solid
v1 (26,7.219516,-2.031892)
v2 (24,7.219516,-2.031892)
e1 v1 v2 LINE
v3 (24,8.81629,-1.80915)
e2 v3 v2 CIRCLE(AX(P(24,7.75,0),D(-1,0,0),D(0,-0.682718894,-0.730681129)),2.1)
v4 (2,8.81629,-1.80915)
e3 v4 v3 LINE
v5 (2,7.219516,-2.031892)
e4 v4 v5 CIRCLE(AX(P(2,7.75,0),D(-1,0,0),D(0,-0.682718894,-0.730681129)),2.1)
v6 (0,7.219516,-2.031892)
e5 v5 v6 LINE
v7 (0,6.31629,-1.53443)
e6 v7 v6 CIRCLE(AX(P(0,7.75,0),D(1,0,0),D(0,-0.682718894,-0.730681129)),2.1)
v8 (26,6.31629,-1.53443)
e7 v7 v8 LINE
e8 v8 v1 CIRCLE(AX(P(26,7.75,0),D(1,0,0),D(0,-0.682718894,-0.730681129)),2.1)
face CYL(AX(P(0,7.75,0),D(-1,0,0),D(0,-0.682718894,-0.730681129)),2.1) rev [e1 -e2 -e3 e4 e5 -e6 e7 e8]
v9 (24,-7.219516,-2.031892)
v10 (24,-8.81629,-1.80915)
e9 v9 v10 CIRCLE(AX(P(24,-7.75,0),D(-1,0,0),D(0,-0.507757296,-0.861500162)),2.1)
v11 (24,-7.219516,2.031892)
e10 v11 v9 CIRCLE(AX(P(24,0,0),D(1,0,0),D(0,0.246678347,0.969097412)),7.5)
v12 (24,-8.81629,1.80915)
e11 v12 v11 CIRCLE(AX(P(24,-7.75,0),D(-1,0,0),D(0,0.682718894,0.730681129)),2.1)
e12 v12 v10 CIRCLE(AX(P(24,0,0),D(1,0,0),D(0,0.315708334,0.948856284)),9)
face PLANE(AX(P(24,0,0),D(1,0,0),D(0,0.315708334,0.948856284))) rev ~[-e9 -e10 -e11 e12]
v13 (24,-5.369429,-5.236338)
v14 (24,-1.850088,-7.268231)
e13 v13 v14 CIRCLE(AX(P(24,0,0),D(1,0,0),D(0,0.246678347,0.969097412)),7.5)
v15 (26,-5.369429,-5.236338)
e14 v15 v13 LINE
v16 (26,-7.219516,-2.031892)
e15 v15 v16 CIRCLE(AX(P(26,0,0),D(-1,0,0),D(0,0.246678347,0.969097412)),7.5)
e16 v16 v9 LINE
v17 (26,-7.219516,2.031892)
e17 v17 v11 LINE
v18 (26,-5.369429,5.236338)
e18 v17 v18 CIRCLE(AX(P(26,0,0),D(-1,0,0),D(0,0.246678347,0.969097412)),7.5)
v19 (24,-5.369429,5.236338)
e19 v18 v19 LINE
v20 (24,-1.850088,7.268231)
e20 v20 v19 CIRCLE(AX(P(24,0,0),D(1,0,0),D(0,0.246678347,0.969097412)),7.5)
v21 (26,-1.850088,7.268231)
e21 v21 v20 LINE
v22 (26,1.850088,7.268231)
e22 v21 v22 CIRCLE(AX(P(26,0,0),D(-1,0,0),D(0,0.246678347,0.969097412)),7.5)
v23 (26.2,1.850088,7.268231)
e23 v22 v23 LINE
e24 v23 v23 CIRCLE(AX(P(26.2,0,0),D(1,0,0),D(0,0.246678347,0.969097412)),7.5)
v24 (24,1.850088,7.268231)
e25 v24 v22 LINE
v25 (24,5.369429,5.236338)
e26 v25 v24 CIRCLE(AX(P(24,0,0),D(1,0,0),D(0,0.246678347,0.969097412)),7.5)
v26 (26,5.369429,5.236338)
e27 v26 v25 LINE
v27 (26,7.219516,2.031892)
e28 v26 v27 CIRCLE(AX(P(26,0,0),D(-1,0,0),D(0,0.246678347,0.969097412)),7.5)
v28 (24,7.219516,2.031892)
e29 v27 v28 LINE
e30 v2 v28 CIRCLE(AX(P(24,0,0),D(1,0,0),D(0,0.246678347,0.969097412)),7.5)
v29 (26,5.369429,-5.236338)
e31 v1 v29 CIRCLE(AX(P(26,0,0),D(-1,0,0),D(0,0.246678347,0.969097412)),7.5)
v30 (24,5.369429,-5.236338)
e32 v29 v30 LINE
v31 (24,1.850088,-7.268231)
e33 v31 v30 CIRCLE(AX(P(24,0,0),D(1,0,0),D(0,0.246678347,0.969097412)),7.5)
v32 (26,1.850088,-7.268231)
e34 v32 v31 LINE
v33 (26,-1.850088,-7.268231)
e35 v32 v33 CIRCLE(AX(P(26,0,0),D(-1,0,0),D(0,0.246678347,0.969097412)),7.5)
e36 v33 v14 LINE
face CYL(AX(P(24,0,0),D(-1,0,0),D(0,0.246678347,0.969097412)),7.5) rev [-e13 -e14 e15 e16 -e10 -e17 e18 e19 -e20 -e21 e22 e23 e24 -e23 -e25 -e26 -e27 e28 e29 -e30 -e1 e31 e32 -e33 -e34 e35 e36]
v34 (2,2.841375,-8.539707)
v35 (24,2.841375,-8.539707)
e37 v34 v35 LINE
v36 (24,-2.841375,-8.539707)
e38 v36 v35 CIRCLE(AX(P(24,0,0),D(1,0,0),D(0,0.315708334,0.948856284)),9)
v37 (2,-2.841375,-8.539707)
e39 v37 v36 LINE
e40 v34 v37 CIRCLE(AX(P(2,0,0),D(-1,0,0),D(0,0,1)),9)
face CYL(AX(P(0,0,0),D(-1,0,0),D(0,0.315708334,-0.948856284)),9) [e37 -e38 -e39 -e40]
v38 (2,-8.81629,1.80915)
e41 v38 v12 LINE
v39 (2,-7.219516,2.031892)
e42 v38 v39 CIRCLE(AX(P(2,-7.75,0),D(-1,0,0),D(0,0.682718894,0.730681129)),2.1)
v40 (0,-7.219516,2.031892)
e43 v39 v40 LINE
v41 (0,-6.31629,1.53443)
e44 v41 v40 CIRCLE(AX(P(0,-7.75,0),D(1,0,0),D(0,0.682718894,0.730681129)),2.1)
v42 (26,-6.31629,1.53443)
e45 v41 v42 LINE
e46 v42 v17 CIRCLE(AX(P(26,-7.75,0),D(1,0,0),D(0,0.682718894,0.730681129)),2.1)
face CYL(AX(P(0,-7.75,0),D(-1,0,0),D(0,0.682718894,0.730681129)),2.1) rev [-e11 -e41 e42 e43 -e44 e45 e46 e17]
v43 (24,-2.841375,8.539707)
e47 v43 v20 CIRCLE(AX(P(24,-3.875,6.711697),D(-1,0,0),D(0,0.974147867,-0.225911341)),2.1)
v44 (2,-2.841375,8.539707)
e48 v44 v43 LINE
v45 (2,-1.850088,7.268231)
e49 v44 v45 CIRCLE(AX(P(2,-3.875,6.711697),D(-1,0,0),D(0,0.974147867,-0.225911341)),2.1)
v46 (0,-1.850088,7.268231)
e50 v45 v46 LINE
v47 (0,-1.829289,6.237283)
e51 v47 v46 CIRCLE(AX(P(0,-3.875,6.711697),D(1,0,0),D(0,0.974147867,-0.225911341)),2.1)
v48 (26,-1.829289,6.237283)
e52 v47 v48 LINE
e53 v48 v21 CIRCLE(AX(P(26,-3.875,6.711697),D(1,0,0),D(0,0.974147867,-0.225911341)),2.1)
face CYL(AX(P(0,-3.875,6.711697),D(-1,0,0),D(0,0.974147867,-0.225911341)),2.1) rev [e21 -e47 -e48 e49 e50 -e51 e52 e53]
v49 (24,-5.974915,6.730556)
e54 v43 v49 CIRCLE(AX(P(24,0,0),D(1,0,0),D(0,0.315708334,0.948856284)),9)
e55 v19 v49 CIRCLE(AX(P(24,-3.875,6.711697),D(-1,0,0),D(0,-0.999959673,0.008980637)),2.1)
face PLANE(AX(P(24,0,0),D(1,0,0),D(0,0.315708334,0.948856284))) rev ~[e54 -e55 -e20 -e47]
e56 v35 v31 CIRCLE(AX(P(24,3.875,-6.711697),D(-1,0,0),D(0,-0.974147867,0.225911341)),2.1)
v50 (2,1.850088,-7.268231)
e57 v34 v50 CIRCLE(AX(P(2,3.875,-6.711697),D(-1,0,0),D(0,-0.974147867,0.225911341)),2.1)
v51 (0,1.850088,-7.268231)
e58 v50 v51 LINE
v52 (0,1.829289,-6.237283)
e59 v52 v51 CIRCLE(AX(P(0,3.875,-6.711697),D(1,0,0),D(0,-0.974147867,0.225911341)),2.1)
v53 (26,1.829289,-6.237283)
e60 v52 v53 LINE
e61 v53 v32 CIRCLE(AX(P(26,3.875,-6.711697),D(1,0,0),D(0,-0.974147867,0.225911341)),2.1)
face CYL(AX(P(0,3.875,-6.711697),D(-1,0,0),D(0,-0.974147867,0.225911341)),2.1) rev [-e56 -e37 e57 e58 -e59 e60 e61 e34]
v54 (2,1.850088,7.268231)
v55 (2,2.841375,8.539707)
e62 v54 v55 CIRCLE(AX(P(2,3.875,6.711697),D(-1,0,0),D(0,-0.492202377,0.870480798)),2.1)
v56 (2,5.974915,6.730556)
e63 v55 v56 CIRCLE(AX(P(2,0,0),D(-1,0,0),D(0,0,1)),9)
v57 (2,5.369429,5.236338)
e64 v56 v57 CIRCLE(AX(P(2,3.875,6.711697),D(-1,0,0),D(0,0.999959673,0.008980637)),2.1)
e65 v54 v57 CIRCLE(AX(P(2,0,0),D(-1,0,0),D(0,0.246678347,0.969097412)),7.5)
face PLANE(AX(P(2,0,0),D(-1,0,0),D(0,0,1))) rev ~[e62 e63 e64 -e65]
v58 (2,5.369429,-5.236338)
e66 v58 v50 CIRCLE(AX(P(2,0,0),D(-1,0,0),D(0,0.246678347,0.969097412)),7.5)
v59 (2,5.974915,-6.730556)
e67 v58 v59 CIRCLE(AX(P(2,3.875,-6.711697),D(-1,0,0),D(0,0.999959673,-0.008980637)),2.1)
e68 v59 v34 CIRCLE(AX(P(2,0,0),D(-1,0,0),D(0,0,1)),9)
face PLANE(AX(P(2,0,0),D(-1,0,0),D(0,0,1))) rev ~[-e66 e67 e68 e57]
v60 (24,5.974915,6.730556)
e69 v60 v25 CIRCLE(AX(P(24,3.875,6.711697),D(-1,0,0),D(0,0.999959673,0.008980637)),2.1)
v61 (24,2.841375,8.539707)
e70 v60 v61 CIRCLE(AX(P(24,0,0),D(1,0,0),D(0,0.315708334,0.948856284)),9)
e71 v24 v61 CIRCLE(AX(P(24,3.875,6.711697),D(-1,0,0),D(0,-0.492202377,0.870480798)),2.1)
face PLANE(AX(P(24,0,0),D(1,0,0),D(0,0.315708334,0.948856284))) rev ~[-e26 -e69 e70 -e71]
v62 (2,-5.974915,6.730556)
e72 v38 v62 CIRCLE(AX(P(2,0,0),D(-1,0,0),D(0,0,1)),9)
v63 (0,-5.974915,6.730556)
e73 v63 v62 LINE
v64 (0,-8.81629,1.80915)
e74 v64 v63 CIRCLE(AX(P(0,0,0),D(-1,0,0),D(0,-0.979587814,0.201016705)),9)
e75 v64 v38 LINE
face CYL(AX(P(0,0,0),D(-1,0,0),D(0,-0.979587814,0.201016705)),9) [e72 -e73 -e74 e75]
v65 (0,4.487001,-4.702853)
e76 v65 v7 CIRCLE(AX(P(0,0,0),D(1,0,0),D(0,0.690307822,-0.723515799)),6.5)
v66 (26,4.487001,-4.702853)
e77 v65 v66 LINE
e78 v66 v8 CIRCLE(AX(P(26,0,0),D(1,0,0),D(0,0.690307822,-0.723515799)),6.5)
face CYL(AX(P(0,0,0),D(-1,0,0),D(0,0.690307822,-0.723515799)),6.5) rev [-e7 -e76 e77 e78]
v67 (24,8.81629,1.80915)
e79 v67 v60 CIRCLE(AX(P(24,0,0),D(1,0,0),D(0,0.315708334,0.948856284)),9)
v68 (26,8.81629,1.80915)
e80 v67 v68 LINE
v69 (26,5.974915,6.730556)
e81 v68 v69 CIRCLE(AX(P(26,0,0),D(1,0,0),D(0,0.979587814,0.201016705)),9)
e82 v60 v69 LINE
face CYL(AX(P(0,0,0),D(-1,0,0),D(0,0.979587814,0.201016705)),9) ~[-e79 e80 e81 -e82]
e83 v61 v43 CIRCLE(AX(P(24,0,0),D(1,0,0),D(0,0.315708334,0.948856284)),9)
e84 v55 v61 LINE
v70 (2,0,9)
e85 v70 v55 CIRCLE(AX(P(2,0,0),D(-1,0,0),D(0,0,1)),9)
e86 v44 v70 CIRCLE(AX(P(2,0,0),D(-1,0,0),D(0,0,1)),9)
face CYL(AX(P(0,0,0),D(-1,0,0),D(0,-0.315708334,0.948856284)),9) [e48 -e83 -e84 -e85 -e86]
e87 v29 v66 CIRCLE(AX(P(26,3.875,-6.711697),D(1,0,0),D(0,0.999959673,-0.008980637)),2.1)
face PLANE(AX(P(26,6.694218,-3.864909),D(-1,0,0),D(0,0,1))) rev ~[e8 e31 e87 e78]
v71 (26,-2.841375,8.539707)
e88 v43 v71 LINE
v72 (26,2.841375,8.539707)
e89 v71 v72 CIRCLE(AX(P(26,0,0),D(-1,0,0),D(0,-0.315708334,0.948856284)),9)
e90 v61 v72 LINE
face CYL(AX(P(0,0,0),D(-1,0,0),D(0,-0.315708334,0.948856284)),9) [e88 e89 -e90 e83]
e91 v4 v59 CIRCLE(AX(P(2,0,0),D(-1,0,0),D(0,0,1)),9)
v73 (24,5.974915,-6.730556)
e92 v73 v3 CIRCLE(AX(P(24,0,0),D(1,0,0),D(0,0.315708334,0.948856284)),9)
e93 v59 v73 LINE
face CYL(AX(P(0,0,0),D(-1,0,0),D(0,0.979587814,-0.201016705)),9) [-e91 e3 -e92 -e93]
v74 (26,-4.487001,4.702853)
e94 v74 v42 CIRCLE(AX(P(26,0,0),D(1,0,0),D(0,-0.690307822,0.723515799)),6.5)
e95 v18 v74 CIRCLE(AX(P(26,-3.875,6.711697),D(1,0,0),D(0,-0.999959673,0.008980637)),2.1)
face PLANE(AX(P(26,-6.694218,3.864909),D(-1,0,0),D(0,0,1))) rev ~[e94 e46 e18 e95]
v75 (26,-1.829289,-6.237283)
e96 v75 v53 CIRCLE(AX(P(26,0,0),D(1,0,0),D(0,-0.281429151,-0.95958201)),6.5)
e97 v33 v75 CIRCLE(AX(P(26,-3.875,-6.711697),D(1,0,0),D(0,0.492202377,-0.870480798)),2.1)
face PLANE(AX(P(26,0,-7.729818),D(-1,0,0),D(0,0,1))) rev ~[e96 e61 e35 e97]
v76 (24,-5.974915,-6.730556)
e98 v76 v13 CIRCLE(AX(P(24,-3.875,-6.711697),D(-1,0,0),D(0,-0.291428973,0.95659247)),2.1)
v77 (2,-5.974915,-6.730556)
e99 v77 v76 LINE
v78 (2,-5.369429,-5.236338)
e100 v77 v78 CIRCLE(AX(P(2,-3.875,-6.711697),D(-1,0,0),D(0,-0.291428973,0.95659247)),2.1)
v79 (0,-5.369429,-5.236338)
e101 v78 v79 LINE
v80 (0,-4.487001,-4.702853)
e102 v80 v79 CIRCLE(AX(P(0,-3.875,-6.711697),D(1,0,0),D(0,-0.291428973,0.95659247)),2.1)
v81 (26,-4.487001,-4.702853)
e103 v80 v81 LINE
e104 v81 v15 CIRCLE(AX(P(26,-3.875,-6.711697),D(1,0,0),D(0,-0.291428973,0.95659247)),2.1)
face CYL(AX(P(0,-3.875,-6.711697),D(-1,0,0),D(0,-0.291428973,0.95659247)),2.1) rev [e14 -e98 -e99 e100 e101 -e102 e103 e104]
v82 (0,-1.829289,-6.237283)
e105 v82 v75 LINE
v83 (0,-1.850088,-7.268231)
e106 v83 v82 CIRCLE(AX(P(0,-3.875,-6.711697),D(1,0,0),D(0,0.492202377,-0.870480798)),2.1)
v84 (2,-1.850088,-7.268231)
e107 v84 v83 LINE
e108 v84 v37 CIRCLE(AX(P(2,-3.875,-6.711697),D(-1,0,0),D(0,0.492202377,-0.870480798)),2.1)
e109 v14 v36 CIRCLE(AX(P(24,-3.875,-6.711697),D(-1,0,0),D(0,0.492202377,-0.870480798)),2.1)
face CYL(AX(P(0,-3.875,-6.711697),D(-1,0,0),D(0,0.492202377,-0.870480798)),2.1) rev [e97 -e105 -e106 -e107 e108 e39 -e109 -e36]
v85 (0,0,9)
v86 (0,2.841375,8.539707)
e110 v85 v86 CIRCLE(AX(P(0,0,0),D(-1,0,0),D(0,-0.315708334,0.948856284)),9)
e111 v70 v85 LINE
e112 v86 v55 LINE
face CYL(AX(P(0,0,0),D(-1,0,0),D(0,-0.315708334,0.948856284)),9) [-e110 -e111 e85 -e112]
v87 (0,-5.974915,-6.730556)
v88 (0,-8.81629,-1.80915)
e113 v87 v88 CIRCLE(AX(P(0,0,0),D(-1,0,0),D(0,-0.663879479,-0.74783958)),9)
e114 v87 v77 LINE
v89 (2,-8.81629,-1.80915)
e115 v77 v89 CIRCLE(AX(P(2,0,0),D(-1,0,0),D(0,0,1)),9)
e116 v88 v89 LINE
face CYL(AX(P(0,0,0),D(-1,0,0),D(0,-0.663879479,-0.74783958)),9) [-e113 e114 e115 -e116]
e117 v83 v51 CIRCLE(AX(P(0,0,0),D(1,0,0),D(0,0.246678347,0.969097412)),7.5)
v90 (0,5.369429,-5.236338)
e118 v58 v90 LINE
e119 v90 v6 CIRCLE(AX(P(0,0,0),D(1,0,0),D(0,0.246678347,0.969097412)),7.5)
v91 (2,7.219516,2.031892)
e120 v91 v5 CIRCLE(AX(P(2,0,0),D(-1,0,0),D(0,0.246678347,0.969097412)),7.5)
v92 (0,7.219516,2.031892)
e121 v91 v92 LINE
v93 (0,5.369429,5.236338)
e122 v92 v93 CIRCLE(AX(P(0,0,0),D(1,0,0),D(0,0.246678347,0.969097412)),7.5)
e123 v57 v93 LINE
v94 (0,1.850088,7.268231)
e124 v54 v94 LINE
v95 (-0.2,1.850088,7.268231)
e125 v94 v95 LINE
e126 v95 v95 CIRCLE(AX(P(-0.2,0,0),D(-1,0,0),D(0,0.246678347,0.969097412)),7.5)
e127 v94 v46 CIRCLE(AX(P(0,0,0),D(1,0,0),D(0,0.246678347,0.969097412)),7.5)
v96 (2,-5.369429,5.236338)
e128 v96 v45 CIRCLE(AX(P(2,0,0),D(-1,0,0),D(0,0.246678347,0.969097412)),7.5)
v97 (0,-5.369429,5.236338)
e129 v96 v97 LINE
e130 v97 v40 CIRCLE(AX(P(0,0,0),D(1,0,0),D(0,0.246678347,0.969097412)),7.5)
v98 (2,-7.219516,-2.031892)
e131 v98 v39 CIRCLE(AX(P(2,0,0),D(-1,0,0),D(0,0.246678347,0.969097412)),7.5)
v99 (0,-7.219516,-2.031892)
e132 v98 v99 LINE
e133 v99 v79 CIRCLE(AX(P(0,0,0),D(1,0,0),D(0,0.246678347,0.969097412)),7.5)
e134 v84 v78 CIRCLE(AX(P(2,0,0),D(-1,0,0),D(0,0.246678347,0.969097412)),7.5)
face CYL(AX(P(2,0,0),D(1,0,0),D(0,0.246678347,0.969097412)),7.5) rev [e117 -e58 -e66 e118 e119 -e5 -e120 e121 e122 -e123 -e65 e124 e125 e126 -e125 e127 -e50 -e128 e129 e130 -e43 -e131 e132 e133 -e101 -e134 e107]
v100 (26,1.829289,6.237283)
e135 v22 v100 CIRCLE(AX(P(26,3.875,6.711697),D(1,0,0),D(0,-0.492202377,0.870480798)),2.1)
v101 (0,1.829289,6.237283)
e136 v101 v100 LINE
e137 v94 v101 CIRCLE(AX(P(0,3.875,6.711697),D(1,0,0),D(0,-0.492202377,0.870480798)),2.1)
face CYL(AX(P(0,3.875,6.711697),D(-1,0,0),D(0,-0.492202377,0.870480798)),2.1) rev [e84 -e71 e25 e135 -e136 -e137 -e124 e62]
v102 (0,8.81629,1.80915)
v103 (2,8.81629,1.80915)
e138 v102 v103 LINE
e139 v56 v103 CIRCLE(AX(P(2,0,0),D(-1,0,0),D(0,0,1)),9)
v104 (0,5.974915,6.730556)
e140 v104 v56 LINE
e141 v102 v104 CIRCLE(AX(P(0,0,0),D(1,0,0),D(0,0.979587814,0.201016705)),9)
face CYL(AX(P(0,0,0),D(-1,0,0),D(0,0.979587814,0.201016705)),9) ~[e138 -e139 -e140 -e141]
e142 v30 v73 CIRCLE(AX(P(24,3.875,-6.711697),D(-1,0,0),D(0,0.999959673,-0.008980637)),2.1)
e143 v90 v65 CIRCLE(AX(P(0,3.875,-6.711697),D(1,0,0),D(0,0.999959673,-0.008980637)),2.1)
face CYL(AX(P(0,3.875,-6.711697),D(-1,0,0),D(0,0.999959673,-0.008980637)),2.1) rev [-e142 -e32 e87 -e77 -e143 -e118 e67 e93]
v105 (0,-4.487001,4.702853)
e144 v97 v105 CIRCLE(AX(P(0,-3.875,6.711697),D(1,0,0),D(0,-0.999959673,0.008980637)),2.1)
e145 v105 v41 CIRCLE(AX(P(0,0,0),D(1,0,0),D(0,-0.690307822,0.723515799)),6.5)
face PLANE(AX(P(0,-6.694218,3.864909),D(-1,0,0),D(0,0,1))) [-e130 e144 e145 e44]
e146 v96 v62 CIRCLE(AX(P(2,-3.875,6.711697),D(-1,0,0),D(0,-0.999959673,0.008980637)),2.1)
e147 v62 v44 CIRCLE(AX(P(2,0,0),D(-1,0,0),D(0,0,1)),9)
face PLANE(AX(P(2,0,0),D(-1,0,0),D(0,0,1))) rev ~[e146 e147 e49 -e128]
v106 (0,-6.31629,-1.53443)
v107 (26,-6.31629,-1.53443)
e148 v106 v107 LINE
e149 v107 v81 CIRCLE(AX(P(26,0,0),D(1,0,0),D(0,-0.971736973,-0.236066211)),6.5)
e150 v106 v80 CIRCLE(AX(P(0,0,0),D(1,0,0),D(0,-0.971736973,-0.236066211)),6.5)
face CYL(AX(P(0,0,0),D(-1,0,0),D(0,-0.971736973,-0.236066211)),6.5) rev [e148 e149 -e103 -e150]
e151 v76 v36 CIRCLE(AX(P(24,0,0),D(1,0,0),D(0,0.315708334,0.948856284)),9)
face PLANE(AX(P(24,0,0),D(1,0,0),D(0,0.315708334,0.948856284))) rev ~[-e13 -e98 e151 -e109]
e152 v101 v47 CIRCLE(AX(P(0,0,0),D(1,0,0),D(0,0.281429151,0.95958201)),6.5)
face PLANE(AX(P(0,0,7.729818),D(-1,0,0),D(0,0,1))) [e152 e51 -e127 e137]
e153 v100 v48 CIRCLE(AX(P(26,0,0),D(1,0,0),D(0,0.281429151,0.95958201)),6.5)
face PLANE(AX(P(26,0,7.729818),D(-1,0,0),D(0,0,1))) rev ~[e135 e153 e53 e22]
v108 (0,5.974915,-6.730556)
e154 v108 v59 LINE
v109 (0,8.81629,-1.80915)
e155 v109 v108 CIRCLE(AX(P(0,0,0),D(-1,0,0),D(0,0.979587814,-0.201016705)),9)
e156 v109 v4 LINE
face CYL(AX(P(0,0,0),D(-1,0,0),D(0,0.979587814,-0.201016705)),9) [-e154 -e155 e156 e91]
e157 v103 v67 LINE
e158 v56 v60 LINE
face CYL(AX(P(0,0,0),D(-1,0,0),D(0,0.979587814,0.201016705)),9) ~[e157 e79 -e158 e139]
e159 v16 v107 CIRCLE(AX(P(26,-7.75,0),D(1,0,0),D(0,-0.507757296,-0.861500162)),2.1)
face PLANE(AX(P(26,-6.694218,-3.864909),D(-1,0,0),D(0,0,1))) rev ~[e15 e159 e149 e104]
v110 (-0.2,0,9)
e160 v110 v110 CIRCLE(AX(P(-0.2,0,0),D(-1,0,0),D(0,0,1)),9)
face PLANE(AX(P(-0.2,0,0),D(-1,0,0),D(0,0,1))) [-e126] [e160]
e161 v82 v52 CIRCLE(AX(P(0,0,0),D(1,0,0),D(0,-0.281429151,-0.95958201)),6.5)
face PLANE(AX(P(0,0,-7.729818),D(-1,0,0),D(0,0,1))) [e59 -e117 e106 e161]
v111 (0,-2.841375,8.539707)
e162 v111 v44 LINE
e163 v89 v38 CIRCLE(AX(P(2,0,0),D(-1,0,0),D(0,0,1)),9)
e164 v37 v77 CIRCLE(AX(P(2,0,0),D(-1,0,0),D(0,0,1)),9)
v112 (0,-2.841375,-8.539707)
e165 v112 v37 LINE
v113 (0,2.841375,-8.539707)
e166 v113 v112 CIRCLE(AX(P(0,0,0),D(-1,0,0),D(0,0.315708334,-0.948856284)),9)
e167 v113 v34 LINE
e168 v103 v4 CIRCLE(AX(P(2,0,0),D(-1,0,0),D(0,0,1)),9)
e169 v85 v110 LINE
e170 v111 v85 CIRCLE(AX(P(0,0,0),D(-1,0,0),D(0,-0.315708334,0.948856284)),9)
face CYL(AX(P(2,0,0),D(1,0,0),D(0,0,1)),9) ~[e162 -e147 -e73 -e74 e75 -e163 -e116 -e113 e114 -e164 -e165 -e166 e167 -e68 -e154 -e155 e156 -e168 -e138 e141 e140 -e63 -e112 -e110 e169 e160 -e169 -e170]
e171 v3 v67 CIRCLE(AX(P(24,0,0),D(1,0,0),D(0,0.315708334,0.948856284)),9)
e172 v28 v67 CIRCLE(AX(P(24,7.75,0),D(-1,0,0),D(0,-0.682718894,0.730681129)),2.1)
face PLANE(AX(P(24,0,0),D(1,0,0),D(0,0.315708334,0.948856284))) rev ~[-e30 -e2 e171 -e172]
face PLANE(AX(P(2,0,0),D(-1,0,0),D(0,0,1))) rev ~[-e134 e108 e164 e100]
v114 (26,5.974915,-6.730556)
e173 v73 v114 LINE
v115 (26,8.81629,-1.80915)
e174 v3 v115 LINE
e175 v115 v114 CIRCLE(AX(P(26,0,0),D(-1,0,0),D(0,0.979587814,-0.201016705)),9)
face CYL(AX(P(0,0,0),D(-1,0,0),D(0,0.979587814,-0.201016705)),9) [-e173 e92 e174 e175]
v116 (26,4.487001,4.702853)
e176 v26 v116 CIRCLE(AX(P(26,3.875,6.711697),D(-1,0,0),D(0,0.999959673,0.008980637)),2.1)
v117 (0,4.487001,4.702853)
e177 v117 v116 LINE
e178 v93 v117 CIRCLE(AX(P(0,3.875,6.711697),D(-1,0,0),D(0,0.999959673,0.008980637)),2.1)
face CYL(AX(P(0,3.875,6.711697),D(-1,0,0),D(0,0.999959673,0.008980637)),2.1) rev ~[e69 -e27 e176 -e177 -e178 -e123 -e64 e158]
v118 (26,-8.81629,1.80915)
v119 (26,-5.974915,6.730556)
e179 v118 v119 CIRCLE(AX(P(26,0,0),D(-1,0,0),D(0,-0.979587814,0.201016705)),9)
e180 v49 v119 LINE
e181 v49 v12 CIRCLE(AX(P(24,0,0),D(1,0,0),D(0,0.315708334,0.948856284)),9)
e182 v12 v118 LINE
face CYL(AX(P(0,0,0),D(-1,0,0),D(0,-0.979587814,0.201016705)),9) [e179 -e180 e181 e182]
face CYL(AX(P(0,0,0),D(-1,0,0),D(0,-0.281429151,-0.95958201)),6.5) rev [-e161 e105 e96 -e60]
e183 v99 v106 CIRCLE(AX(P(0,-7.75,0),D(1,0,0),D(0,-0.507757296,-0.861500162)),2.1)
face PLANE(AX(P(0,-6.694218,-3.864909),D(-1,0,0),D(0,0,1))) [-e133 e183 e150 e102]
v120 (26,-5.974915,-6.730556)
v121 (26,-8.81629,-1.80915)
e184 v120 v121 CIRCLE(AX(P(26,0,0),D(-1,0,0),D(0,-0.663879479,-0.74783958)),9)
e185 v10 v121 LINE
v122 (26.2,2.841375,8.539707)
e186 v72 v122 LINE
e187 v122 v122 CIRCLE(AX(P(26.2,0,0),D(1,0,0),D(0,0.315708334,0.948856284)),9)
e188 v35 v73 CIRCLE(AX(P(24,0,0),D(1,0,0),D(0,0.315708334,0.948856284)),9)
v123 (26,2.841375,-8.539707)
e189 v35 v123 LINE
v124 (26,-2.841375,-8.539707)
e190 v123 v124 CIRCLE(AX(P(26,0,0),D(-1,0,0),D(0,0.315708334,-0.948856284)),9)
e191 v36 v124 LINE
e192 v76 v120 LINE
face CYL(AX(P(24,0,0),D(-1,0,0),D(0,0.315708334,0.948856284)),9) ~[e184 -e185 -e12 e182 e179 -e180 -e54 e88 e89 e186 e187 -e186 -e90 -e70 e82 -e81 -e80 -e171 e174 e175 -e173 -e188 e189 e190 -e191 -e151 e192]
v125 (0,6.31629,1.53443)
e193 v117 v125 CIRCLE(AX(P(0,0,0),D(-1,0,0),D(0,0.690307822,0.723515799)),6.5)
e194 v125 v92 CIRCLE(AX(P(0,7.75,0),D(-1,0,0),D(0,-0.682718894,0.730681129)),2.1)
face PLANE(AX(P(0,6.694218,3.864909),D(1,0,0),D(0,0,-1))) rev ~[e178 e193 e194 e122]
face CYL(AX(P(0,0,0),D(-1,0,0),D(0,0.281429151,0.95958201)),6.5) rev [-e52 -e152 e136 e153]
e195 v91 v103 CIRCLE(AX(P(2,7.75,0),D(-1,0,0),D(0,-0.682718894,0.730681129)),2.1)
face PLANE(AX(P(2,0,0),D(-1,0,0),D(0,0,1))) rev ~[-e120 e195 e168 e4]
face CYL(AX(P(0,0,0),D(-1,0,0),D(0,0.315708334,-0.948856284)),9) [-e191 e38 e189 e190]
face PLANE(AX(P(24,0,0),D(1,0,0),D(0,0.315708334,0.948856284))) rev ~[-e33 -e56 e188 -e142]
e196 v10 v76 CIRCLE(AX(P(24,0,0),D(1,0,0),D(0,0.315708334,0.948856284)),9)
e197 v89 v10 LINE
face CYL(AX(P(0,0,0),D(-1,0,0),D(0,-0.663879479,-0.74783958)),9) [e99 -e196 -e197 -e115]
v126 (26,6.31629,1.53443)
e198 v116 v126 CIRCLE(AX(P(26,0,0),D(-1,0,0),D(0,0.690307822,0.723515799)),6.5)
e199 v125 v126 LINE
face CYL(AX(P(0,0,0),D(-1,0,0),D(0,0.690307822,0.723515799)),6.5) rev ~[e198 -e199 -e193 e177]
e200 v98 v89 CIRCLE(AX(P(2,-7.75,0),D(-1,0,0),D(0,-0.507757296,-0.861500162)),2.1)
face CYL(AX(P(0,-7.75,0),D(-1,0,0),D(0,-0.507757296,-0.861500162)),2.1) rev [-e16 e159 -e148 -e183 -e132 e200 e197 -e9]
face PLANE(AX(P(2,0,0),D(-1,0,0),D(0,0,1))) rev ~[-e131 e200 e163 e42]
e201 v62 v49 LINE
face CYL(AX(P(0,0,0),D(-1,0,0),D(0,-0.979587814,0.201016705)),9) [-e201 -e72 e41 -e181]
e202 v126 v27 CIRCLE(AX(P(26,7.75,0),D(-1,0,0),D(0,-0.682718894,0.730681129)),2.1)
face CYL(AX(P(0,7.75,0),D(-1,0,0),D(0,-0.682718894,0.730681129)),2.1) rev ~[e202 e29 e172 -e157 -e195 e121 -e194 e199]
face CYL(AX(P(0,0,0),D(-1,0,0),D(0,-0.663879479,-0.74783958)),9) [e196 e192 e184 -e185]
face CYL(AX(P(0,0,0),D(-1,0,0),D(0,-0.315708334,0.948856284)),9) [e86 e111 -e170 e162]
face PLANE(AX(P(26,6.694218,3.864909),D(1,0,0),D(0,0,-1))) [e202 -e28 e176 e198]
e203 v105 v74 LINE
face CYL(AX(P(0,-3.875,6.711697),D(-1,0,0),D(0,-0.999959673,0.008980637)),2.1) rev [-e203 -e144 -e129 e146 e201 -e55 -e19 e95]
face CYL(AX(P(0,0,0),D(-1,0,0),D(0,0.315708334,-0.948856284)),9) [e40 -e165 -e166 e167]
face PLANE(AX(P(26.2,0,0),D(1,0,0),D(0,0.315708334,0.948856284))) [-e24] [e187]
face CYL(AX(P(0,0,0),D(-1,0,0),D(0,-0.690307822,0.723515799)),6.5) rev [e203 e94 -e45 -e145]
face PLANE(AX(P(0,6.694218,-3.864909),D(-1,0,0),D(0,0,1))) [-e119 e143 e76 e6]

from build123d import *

# Parameters (mm, degrees)
BOSS_EXTRUDE1_DEPTH      = 26
BOSS_EXTRUDE1_2_DEPTH    = 26
BOSS_EXTRUDE1_3_DEPTH    = 26
BOSS_EXTRUDE1_4_DEPTH    = 26
BOSS_EXTRUDE1_5_DEPTH    = 26
BOSS_EXTRUDE1_6_DEPTH    = 26
BOSS_EXTRUDE2_DEPTH      = 0.2
BOSS_EXTRUDE2_DEPTH_BACK = 2
SKETCH2_R                = 9
SKETCH2_R_2              = 7.5
BOSS_EXTRUDE3_DEPTH      = 0.2
BOSS_EXTRUDE3_DEPTH_BACK = 2
SKETCH3_R                = 9
SKETCH3_R_2              = 7.5


with BuildPart() as part:
    # Sketch1 → Boss-Extrude1 (new body)
    with BuildSketch(Plane(origin=(0, 0, 0), x_dir=(0, 0, -1), z_dir=(1, 0, 0))):
        with BuildLine():
            ThreePointArc((-1.809150339, 8.816290323), (-4.5, 7.794228634), (-6.730556217, 5.974915314))
            ThreePointArc((-6.730556217, 5.974915314), (-5.469327251, 5.568079356), (-4.702852692, 4.487000842))
            ThreePointArc((-4.702852692, 4.487000842), (-3.25, 5.629165125), (-1.53443037, 6.316290323))
            ThreePointArc((-1.53443037, 6.316290323), (-2.087434547, 7.520616019), (-1.809150339, 8.816290323))
        make_face()
    extrude(amount=BOSS_EXTRUDE1_DEPTH)



with BuildPart() as body_2:
    # Sketch1 → Boss-Extrude1 2 (new body)
    with BuildSketch(Plane(origin=(0, 0, 0), x_dir=(0, 0, -1), z_dir=(1, 0, 0))):
        with BuildLine():
            ThreePointArc((6.237283062, 1.82928948), (7.556761798, 1.952536663), (8.539706556, 2.841375009))
            ThreePointArc((8.539706556, 2.841375009), (9, 0), (8.539706556, -2.841375009))
            ThreePointArc((8.539706556, -2.841375009), (7.556761798, -1.952536663), (6.237283062, -1.82928948))
            ThreePointArc((6.237283062, -1.82928948), (6.5, 0), (6.237283062, 1.82928948))
        make_face()
    extrude(amount=BOSS_EXTRUDE1_2_DEPTH)


with BuildPart() as body_3:
    # Sketch1 → Boss-Extrude1 3 (new body)
    with BuildSketch(Plane(origin=(0, 0, 0), x_dir=(0, 0, -1), z_dir=(1, 0, 0))):
        with BuildLine():
            ThreePointArc((-1.53443037, -6.316290323), (-2.087434547, -7.520616019), (-1.809150339, -8.816290323))
            ThreePointArc((-1.809150339, -8.816290323), (-4.5, -7.794228634), (-6.730556217, -5.974915314))
            ThreePointArc((-6.730556217, -5.974915314), (-5.469327251, -5.568079356), (-4.702852692, -4.487000842))
            ThreePointArc((-4.702852692, -4.487000842), (-3.25, -5.629165125), (-1.53443037, -6.316290323))
        make_face()
    extrude(amount=BOSS_EXTRUDE1_3_DEPTH)


with BuildPart() as body_4:
    # Sketch1 → Boss-Extrude1 4 (new body)
    with BuildSketch(Plane(origin=(0, 0, 0), x_dir=(0, 0, -1), z_dir=(1, 0, 0))):
        with BuildLine():
            ThreePointArc((1.53443037, 6.316290323), (2.087434547, 7.520616019), (1.809150339, 8.816290323))
            ThreePointArc((1.809150339, 8.816290323), (4.5, 7.794228634), (6.730556217, 5.974915314))
            ThreePointArc((6.730556217, 5.974915314), (5.469327251, 5.568079356), (4.702852692, 4.487000842))
            ThreePointArc((4.702852692, 4.487000842), (3.25, 5.629165125), (1.53443037, 6.316290323))
        make_face()
    extrude(amount=BOSS_EXTRUDE1_4_DEPTH)


with BuildPart() as body_5:
    # Sketch1 → Boss-Extrude1 5 (new body)
    with BuildSketch(Plane(origin=(0, 0, 0), x_dir=(0, 0, -1), z_dir=(1, 0, 0))):
        with BuildLine():
            ThreePointArc((-6.237283062, 1.82928948), (-6.5, 0), (-6.237283062, -1.82928948))
            ThreePointArc((-6.237283062, -1.82928948), (-7.556761798, -1.952536663), (-8.539706556, -2.841375009))
            ThreePointArc((-8.539706556, -2.841375009), (-9, 0), (-8.539706556, 2.841375009))
            ThreePointArc((-8.539706556, 2.841375009), (-7.556761798, 1.952536663), (-6.237283062, 1.82928948))
        make_face()
    extrude(amount=BOSS_EXTRUDE1_5_DEPTH)


with BuildPart() as body_6:
    # Sketch1 → Boss-Extrude1 6 (new body)
    with BuildSketch(Plane(origin=(0, 0, 0), x_dir=(0, 0, -1), z_dir=(1, 0, 0))):
        with BuildLine():
            ThreePointArc((4.702852692, -4.487000842), (5.469327251, -5.568079356), (6.730556217, -5.974915314))
            ThreePointArc((6.730556217, -5.974915314), (4.5, -7.794228634), (1.809150339, -8.816290323))
            ThreePointArc((1.809150339, -8.816290323), (2.087434547, -7.520616019), (1.53443037, -6.316290323))
            ThreePointArc((1.53443037, -6.316290323), (3.25, -5.629165125), (4.702852692, -4.487000842))
        make_face()
    extrude(amount=BOSS_EXTRUDE1_6_DEPTH)


with BuildPart() as part_1:
    add(part.part)

    add(body_2.part)  # Boss-Extrude2 merges body 2

    add(body_3.part)  # Boss-Extrude2 merges body 3

    add(body_4.part)  # Boss-Extrude2 merges body 4

    add(body_5.part)  # Boss-Extrude2 merges body 5

    add(body_6.part)  # Boss-Extrude2 merges body 6
    # Sketch2 → Boss-Extrude2 (add, two sides: drawn at the far end of the back side and taken through both)
    with BuildSketch(Plane(origin=(26, 0, 0), x_dir=(0, 0, -1), z_dir=(1, 0, 0)).offset(-BOSS_EXTRUDE2_DEPTH_BACK)):
        with Locations(Location((0, 0, 0), (0, 0, 161.596419423))):
            Circle(SKETCH2_R)
        with Locations(Location((0, 0, 0), (0, 0, 165.71895949))):
            Circle(SKETCH2_R_2, mode=Mode.SUBTRACT)
    extrude(amount=BOSS_EXTRUDE2_DEPTH + BOSS_EXTRUDE2_DEPTH_BACK)

    # Sketch3 → Boss-Extrude3 (add, two sides: drawn at the far end of the back side and taken through both)
    with BuildSketch(Plane.ZY.offset(-BOSS_EXTRUDE3_DEPTH_BACK)):
        Circle(SKETCH3_R)
        with Locations(Location((0, 0, 0), (0, 0, 14.28104051))):
            Circle(SKETCH3_R_2, mode=Mode.SUBTRACT)
    extrude(amount=BOSS_EXTRUDE3_DEPTH + BOSS_EXTRUDE3_DEPTH_BACK)


solid = part_1.part
